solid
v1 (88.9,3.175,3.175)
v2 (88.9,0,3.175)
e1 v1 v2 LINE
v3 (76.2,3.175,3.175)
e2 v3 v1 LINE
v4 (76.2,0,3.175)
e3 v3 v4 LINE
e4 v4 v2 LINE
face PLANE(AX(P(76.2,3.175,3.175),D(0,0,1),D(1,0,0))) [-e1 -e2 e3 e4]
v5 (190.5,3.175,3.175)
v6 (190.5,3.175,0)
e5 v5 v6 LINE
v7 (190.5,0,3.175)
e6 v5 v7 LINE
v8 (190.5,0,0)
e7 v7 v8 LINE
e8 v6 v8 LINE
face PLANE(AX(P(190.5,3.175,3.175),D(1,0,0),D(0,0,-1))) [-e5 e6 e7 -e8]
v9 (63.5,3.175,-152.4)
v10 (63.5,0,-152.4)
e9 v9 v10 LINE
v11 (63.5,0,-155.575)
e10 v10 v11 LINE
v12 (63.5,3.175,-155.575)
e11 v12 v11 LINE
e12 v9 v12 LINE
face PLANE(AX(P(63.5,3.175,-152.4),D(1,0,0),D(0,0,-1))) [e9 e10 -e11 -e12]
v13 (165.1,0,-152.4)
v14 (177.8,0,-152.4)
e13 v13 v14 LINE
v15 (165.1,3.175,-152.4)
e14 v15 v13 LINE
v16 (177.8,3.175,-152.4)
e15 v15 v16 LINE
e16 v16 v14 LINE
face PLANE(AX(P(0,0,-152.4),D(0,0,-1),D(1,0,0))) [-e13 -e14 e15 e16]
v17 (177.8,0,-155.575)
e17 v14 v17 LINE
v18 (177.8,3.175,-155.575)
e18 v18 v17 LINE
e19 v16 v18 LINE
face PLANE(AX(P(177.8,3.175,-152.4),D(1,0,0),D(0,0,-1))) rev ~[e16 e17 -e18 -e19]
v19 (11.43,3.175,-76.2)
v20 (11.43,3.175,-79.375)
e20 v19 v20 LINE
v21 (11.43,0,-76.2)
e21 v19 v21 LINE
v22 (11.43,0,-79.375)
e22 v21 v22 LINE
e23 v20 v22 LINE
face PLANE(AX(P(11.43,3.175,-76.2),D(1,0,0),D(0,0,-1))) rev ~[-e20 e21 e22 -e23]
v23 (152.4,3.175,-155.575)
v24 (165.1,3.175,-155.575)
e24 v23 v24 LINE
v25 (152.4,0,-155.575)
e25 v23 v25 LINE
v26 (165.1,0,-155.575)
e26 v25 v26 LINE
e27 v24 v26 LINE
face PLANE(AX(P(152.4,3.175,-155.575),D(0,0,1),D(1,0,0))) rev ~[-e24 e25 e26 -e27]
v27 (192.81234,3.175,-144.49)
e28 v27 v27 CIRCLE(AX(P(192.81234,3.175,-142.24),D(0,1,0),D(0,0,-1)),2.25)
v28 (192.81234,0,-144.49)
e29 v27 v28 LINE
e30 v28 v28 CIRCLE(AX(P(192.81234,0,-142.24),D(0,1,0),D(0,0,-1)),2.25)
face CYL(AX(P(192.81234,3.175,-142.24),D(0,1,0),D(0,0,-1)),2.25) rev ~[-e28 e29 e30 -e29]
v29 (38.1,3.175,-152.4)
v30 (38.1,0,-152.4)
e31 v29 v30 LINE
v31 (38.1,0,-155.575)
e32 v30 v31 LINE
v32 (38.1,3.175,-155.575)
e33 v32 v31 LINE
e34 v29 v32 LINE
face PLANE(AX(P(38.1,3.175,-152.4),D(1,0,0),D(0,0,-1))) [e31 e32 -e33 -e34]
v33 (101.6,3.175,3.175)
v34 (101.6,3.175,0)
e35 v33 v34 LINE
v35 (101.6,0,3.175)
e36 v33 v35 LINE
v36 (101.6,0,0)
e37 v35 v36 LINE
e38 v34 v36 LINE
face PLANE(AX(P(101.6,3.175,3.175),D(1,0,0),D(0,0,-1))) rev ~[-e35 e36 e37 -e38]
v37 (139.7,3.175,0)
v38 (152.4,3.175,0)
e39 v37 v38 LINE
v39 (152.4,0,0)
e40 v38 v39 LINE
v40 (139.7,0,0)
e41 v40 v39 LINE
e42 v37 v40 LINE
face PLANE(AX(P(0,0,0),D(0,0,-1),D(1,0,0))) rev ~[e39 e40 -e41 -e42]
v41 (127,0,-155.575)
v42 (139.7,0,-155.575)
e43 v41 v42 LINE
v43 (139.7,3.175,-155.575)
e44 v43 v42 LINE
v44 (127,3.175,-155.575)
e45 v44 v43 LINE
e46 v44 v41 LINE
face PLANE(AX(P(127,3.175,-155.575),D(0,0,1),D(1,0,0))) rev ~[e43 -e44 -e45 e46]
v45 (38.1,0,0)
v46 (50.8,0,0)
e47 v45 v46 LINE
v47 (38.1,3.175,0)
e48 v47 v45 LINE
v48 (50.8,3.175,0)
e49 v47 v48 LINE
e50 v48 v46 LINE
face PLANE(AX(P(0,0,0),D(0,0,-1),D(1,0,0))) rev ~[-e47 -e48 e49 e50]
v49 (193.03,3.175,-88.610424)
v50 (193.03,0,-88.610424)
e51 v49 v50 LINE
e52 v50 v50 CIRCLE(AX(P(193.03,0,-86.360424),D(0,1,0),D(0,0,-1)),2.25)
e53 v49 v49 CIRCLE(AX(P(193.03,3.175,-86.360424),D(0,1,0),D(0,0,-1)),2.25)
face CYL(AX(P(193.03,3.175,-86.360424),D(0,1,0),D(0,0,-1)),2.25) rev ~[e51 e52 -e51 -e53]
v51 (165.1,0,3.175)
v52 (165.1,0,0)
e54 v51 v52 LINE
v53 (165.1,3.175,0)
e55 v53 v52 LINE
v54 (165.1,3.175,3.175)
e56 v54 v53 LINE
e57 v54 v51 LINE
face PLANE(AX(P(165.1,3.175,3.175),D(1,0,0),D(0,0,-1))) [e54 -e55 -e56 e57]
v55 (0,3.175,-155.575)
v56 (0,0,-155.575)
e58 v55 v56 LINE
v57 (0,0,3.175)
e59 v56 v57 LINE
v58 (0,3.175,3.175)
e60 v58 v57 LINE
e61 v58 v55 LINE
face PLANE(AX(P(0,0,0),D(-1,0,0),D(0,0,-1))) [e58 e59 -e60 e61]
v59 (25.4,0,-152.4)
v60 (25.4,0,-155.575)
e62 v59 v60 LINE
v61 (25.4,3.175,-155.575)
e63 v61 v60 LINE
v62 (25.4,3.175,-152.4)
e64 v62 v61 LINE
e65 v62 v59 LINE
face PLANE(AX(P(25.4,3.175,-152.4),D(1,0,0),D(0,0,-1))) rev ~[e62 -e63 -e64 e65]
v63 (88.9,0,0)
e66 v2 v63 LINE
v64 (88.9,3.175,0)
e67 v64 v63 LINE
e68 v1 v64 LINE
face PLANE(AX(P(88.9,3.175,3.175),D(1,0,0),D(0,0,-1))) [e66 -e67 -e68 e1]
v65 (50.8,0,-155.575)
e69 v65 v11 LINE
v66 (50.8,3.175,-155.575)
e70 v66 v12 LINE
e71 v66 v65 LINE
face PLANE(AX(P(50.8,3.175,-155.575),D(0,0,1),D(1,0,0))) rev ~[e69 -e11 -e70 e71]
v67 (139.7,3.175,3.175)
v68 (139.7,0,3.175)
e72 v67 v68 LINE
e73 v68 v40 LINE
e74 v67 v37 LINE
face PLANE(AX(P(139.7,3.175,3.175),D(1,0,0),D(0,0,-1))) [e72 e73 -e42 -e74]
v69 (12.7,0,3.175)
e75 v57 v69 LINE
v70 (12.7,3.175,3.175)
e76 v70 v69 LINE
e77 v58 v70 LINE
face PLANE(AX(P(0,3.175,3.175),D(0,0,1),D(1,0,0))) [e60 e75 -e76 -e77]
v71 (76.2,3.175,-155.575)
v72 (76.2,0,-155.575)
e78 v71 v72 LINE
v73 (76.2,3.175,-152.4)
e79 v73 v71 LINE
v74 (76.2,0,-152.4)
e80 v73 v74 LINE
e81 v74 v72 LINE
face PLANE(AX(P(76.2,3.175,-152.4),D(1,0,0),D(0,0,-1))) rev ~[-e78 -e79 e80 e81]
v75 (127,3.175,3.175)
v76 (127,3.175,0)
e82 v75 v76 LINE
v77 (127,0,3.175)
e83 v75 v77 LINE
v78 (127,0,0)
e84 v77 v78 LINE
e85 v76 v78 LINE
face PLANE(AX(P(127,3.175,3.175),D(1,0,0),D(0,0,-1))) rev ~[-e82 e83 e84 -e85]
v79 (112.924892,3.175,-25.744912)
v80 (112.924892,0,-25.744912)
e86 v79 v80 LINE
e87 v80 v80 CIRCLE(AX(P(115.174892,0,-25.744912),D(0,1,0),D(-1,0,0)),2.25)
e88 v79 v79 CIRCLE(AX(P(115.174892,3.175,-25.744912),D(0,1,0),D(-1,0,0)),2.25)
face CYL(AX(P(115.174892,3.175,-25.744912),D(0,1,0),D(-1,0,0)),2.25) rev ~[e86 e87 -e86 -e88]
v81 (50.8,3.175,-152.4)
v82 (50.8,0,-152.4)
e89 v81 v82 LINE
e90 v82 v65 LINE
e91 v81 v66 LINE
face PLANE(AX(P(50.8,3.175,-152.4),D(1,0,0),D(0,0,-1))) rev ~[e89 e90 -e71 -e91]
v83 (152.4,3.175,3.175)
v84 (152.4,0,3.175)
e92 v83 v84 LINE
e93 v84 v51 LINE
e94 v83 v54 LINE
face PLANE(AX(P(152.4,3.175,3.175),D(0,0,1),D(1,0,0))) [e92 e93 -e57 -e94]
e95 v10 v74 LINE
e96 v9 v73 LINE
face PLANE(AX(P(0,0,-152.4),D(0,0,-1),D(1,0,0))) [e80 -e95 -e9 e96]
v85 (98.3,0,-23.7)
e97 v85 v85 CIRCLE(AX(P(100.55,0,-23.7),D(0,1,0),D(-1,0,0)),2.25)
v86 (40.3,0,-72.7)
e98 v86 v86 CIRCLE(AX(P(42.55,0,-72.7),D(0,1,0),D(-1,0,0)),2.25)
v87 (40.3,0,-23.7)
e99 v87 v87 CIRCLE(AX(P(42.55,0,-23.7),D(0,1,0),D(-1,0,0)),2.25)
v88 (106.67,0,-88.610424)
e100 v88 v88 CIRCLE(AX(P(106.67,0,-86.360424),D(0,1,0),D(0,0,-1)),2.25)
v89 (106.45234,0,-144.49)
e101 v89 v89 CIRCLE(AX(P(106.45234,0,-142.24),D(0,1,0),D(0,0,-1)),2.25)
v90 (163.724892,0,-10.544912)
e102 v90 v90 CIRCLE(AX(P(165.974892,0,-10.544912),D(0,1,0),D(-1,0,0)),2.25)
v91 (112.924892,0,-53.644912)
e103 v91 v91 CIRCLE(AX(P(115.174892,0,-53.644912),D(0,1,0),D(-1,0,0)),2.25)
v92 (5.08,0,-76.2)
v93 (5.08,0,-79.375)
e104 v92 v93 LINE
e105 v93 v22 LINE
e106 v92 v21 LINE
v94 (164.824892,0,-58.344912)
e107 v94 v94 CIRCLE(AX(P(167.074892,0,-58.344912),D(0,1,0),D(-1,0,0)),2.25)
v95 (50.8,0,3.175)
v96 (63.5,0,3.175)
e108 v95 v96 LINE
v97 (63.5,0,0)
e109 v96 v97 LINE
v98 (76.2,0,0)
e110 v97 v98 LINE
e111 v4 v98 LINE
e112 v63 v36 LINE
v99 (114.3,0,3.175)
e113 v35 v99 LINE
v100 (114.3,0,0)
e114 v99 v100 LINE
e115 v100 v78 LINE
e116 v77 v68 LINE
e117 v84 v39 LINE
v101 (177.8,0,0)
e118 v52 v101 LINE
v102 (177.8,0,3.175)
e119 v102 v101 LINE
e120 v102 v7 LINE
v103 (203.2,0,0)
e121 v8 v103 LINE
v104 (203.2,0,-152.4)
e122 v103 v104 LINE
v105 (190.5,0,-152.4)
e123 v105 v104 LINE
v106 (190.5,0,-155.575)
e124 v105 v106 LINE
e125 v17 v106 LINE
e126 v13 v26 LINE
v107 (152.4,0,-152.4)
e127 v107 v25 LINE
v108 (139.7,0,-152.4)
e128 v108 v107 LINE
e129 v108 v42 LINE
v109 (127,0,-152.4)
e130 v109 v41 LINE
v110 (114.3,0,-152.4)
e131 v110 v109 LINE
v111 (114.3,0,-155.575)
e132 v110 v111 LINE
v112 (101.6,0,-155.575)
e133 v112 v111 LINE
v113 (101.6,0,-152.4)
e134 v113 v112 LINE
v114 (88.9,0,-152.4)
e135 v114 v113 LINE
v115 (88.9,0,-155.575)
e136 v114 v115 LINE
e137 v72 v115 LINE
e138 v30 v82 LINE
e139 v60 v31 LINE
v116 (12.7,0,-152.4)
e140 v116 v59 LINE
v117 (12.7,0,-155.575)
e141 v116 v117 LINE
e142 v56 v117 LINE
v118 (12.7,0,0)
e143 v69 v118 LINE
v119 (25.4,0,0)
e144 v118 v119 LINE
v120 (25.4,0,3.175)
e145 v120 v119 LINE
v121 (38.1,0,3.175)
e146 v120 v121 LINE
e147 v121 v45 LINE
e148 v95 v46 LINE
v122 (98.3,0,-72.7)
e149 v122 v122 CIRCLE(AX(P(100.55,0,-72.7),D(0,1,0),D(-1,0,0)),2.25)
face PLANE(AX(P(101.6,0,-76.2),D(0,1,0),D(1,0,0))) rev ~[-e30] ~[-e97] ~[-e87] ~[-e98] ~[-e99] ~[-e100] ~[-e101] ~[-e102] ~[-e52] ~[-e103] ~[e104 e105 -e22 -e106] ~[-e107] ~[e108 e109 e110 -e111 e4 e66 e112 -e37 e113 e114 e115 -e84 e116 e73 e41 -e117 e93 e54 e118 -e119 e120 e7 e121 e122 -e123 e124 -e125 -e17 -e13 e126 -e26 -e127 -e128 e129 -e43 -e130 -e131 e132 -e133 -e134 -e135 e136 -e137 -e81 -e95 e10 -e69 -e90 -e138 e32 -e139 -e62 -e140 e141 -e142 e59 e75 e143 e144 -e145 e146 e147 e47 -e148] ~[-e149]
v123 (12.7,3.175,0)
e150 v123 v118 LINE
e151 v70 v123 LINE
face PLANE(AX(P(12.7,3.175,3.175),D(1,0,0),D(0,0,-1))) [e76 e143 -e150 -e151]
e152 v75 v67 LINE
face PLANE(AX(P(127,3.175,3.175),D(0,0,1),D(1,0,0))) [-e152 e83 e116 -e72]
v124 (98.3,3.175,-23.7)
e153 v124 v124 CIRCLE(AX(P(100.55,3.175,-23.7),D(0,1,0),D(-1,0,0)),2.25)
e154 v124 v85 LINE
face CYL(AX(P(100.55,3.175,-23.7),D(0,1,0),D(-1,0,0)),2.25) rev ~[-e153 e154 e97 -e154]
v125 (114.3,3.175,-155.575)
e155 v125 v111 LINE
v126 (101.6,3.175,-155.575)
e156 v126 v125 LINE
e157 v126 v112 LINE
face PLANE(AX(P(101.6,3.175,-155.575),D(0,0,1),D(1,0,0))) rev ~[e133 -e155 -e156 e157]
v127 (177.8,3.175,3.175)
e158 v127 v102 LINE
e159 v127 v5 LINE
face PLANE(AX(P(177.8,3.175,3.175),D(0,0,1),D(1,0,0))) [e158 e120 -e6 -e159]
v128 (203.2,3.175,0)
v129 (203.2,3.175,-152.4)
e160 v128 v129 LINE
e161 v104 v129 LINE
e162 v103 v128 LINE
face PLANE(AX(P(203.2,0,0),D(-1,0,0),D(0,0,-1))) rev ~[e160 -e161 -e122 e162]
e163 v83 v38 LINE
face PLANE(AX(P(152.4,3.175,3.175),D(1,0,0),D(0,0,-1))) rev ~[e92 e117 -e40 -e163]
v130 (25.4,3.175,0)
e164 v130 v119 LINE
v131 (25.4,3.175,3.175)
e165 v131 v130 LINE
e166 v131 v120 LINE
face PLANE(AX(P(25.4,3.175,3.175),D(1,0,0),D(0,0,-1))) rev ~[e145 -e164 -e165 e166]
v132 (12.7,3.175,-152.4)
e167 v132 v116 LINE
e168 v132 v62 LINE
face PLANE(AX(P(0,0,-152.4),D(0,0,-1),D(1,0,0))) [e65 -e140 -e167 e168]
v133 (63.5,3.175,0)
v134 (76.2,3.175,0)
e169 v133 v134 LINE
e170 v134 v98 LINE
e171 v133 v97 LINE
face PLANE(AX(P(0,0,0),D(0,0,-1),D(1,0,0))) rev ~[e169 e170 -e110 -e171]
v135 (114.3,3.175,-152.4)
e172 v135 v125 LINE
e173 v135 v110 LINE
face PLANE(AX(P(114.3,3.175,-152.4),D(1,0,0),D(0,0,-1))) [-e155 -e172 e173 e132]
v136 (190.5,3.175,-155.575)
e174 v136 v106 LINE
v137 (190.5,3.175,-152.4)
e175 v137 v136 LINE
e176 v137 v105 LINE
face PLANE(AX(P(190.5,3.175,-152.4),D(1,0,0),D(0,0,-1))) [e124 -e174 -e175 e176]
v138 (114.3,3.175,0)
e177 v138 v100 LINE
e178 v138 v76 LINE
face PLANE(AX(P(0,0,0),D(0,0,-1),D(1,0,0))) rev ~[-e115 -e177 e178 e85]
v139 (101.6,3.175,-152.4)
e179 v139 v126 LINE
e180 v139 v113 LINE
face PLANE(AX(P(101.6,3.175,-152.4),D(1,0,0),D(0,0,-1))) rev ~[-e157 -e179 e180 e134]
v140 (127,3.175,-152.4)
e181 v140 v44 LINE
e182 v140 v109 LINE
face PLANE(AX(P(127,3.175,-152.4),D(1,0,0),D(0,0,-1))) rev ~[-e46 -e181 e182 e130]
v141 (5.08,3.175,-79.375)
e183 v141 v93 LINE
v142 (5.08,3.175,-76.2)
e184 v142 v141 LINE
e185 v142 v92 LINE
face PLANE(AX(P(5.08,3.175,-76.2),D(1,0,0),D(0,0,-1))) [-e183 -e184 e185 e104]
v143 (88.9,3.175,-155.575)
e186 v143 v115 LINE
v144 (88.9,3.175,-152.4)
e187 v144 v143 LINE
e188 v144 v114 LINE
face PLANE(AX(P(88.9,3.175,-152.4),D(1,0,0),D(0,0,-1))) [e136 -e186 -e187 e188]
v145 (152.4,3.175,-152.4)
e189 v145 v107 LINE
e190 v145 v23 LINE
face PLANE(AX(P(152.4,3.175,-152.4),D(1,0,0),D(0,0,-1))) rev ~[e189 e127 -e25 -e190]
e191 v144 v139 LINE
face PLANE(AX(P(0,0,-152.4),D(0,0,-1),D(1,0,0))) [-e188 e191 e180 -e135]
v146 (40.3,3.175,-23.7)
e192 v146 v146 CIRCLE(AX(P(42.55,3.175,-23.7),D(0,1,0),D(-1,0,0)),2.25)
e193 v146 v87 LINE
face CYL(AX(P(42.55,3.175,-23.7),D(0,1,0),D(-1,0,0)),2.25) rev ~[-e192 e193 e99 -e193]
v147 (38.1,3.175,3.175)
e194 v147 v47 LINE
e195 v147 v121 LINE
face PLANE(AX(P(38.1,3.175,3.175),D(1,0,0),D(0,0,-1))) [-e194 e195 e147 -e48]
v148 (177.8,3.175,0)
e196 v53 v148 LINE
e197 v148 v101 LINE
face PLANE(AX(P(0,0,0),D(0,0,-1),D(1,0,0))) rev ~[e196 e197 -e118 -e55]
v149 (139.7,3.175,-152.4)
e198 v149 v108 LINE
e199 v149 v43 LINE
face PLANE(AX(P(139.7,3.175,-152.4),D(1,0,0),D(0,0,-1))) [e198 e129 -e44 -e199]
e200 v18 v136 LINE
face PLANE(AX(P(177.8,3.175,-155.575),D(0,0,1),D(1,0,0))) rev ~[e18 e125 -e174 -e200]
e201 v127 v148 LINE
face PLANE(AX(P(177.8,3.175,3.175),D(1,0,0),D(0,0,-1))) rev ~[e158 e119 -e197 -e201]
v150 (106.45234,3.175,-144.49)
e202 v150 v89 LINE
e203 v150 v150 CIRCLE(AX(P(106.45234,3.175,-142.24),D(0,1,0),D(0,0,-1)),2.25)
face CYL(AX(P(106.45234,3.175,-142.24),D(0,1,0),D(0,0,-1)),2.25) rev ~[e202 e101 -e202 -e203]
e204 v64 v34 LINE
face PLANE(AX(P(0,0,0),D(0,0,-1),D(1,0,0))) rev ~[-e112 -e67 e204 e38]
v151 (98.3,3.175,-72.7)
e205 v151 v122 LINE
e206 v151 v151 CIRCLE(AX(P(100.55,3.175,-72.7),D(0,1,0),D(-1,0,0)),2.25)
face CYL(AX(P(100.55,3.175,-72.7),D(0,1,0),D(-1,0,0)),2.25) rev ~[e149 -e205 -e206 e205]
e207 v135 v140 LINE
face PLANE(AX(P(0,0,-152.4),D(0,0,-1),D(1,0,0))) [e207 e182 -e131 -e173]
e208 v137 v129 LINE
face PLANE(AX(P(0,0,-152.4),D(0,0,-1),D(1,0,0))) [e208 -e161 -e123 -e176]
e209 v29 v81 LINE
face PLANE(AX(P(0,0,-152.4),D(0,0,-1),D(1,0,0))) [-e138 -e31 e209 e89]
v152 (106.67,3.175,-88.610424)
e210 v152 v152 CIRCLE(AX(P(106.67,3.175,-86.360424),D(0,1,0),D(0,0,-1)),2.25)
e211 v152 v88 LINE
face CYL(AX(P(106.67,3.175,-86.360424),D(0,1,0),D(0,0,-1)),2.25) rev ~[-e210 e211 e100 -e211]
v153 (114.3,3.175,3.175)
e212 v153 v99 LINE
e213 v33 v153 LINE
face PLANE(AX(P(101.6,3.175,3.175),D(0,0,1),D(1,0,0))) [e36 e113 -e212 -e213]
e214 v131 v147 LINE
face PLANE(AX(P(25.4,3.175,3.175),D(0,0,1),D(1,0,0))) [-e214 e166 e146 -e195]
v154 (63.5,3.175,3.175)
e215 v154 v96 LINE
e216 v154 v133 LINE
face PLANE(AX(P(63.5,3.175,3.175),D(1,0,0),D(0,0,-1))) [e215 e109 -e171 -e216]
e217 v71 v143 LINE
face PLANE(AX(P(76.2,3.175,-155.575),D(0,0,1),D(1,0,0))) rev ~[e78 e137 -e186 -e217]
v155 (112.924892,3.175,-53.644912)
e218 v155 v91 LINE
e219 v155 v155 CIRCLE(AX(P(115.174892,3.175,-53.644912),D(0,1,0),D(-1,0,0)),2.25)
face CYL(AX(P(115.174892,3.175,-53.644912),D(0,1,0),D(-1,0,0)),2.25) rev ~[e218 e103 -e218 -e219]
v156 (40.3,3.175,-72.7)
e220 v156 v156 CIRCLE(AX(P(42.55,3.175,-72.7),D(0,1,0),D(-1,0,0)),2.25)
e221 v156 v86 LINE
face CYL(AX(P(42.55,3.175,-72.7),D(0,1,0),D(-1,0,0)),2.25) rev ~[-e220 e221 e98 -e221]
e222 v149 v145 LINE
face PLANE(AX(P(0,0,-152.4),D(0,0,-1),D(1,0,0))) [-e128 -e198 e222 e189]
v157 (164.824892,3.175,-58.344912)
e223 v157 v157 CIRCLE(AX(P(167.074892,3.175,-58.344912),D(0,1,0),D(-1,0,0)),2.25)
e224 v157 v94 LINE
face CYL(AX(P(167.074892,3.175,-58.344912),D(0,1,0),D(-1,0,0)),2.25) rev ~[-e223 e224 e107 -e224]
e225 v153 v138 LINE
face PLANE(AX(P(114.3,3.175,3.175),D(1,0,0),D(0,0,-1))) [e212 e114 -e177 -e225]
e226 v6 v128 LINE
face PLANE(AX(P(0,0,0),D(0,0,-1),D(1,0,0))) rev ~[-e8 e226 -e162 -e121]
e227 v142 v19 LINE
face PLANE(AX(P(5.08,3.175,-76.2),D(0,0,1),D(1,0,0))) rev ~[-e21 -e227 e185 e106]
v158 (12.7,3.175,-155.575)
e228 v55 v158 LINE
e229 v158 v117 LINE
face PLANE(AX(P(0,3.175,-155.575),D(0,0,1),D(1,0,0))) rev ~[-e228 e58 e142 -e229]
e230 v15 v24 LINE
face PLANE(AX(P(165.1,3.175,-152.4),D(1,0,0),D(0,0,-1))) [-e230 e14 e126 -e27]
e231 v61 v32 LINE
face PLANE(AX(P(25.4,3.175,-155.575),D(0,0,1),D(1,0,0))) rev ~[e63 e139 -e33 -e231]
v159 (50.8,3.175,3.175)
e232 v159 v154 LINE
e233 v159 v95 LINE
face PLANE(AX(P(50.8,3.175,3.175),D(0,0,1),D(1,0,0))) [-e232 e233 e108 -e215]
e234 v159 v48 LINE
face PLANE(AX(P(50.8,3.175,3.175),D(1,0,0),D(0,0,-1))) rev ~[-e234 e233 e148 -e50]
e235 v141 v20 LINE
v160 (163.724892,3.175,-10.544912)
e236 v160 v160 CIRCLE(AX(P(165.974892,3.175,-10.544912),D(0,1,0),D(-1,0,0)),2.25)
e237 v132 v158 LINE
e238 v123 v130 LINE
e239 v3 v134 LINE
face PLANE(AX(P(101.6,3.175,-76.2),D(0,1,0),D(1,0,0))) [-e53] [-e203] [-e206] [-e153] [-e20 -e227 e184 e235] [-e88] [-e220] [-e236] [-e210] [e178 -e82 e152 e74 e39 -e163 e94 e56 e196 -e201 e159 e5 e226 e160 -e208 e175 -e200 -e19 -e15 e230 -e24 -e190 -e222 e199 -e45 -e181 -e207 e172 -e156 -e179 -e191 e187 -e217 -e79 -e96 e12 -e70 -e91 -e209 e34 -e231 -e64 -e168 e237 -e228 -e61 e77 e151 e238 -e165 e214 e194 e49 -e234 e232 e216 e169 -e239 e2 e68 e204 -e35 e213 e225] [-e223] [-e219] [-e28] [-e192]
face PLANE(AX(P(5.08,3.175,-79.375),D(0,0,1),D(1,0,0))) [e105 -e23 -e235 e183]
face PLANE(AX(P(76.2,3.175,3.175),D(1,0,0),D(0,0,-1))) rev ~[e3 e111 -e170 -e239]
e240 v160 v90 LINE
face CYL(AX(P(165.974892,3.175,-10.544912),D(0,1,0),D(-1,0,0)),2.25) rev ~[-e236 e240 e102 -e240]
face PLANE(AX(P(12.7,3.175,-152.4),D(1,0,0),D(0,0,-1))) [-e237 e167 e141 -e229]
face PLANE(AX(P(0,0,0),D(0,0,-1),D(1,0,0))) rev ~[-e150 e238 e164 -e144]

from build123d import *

# Parameters (mm, degrees)
SKETCH1_W               = 203.2
SKETCH1_H               = 152.4
BOSS_EXTRUDE1_DEPTH     = 3.175
SKETCH2_W               = 12.7
SKETCH2_H               = 3.175
BOSS_EXTRUDE2_DEPTH     = 3.175
BOSS_EXTRUDE2_2_DEPTH   = 3.175
BOSS_EXTRUDE2_3_DEPTH   = 3.175
BOSS_EXTRUDE2_4_DEPTH   = 3.175
BOSS_EXTRUDE2_5_DEPTH   = 3.175
BOSS_EXTRUDE2_6_DEPTH   = 3.175
BOSS_EXTRUDE2_7_DEPTH   = 3.175
BOSS_EXTRUDE2_8_DEPTH   = 3.175
BOSS_EXTRUDE2_9_DEPTH   = 3.175
BOSS_EXTRUDE2_10_DEPTH  = 3.175
BOSS_EXTRUDE2_11_DEPTH  = 3.175
BOSS_EXTRUDE2_12_DEPTH  = 3.175
BOSS_EXTRUDE2_13_DEPTH  = 3.175
BOSS_EXTRUDE2_14_DEPTH  = 3.175
BOSS_EXTRUDE2_15_DEPTH  = 3.175
BOSS_EXTRUDE2_16_DEPTH  = 3.175
SKETCH4_R               = 2.249999945
CUT_EXTRUDE1_DEPTH      = 4.175
SKETCH5_R               = 2.249999945
CUT_EXTRUDE2_DEPTH      = 4.175
SKETCH10_R              = 2.249999945
CUT_EXTRUDE3_DEPTH      = 1
CUT_EXTRUDE3_DEPTH_BACK = 4.175
SKETCH11_W              = 6.35
SKETCH11_H              = 3.175
CUT_EXTRUDE4_DEPTH      = 4.175


with BuildPart() as part:
    # Sketch1 → Boss-Extrude1 (new body)
    with BuildSketch(Plane(origin=(0, 0, 0), x_dir=(1, 0, 0), z_dir=(0, 1, 0))):
        with Locations((101.6, 76.2)):
            Rectangle(SKETCH1_W, SKETCH1_H)
    extrude(amount=BOSS_EXTRUDE1_DEPTH)

    # Sketch4 → Cut-Extrude1 (cut, through all)
    with BuildSketch(Plane(origin=(163.318517222, 3.175, 18.128898402), x_dir=(-1, 0, 0), z_dir=(0, 1, 0))):
        with Locations((62.768517222, -41.828898402)):
            Circle(SKETCH4_R)
        with Locations((62.768517222, -90.828898402)):
            Circle(SKETCH4_R)
        with Locations((120.768517222, -90.828898402)):
            Circle(SKETCH4_R)
        with Locations((120.768517222, -41.828898402)):
            Circle(SKETCH4_R)
    extrude(amount=-CUT_EXTRUDE1_DEPTH, mode=Mode.SUBTRACT)

    # Sketch5 → Cut-Extrude2 (cut, through all)
    with BuildSketch(Plane(origin=(307.482010873, 3.175, -268.648993813), x_dir=(-1, 0, 0), z_dir=(0, 1, 0))):
        with Locations((140.407118473, 210.304081528)):
            Circle(SKETCH5_R)
        with Locations((141.507118473, 258.104081528)):
            Circle(SKETCH5_R)
        with Locations((192.307118473, 215.004081528)):
            Circle(SKETCH5_R)
        with Locations((192.307118473, 242.904081528)):
            Circle(SKETCH5_R)
    extrude(amount=-CUT_EXTRUDE2_DEPTH, mode=Mode.SUBTRACT)

    # Sketch10 → Cut-Extrude3 (cut, two sides)
    with BuildSketch(Plane(origin=(154.738240667, 3.175, -89.784200023), x_dir=(0, 0, -1), z_dir=(0, 1, 0))) as cut_extrude3_sk:
        with Locations((-3.423776116, 48.068240667)):
            Circle(SKETCH10_R)
        with Locations((52.455799977, 48.285900219)):
            Circle(SKETCH10_R)
        with Locations((-3.423776116, -38.291759333)):
            Circle(SKETCH10_R)
        with Locations((52.455799977, -38.074099781)):
            Circle(SKETCH10_R)
    extrude(amount=CUT_EXTRUDE3_DEPTH, mode=Mode.SUBTRACT)
    extrude(cut_extrude3_sk.sketch, amount=-CUT_EXTRUDE3_DEPTH_BACK, mode=Mode.SUBTRACT)


with BuildPart() as body_2:
    # Sketch2 → Boss-Extrude2 (new body)
    with BuildSketch(Plane(origin=(0, 3.175, 0), x_dir=(1, 0, 0), z_dir=(0, 1, 0))):
        with Locations((31.75, -1.5875)):
            Rectangle(SKETCH2_W, SKETCH2_H)
    extrude(amount=-BOSS_EXTRUDE2_DEPTH)


with BuildPart() as body_3:
    # Sketch2 → Boss-Extrude2 2 (new body)
    with BuildSketch(Plane(origin=(0, 3.175, 0), x_dir=(1, 0, 0), z_dir=(0, 1, 0))):
        with Locations((6.35, -1.5875)):
            Rectangle(SKETCH2_W, SKETCH2_H)
    extrude(amount=-BOSS_EXTRUDE2_2_DEPTH)


with BuildPart() as body_4:
    # Sketch2 → Boss-Extrude2 3 (new body)
    with BuildSketch(Plane(origin=(0, 3.175, 0), x_dir=(1, 0, 0), z_dir=(0, 1, 0))):
        with Locations((57.15, -1.5875)):
            Rectangle(SKETCH2_W, SKETCH2_H)
    extrude(amount=-BOSS_EXTRUDE2_3_DEPTH)


with BuildPart() as body_5:
    # Sketch2 → Boss-Extrude2 4 (new body)
    with BuildSketch(Plane(origin=(0, 3.175, 0), x_dir=(1, 0, 0), z_dir=(0, 1, 0))):
        with Locations((82.55, -1.5875)):
            Rectangle(SKETCH2_W, SKETCH2_H)
    extrude(amount=-BOSS_EXTRUDE2_4_DEPTH)


with BuildPart() as body_6:
    # Sketch2 → Boss-Extrude2 5 (new body)
    with BuildSketch(Plane(origin=(0, 3.175, 0), x_dir=(1, 0, 0), z_dir=(0, 1, 0))):
        with Locations((107.95, -1.5875)):
            Rectangle(SKETCH2_W, SKETCH2_H)
    extrude(amount=-BOSS_EXTRUDE2_5_DEPTH)


with BuildPart() as body_7:
    # Sketch2 → Boss-Extrude2 6 (new body)
    with BuildSketch(Plane(origin=(0, 3.175, 0), x_dir=(1, 0, 0), z_dir=(0, 1, 0))):
        with Locations((133.35, -1.5875)):
            Rectangle(SKETCH2_W, SKETCH2_H)
    extrude(amount=-BOSS_EXTRUDE2_6_DEPTH)


with BuildPart() as body_8:
    # Sketch2 → Boss-Extrude2 7 (new body)
    with BuildSketch(Plane(origin=(0, 3.175, 0), x_dir=(1, 0, 0), z_dir=(0, 1, 0))):
        with Locations((158.75, -1.5875)):
            Rectangle(SKETCH2_W, SKETCH2_H)
    extrude(amount=-BOSS_EXTRUDE2_7_DEPTH)


with BuildPart() as body_9:
    # Sketch2 → Boss-Extrude2 8 (new body)
    with BuildSketch(Plane(origin=(0, 3.175, 0), x_dir=(1, 0, 0), z_dir=(0, 1, 0))):
        with Locations((184.15, -1.5875)):
            Rectangle(SKETCH2_W, SKETCH2_H)
    extrude(amount=-BOSS_EXTRUDE2_8_DEPTH)


with BuildPart() as body_10:
    # Sketch2 → Boss-Extrude2 9 (new body)
    with BuildSketch(Plane(origin=(0, 3.175, 0), x_dir=(1, 0, 0), z_dir=(0, 1, 0))):
        with Locations((184.15, 153.9875)):
            Rectangle(SKETCH2_W, SKETCH2_H)
    extrude(amount=-BOSS_EXTRUDE2_9_DEPTH)


with BuildPart() as body_11:
    # Sketch2 → Boss-Extrude2 10 (new body)
    with BuildSketch(Plane(origin=(0, 3.175, 0), x_dir=(1, 0, 0), z_dir=(0, 1, 0))):
        with Locations((158.75, 153.9875)):
            Rectangle(SKETCH2_W, SKETCH2_H)
    extrude(amount=-BOSS_EXTRUDE2_10_DEPTH)


with BuildPart() as body_12:
    # Sketch2 → Boss-Extrude2 11 (new body)
    with BuildSketch(Plane(origin=(0, 3.175, 0), x_dir=(1, 0, 0), z_dir=(0, 1, 0))):
        with Locations((133.35, 153.9875)):
            Rectangle(SKETCH2_W, SKETCH2_H)
    extrude(amount=-BOSS_EXTRUDE2_11_DEPTH)


with BuildPart() as body_13:
    # Sketch2 → Boss-Extrude2 12 (new body)
    with BuildSketch(Plane(origin=(0, 3.175, 0), x_dir=(1, 0, 0), z_dir=(0, 1, 0))):
        with Locations((107.95, 153.9875)):
            Rectangle(SKETCH2_W, SKETCH2_H)
    extrude(amount=-BOSS_EXTRUDE2_12_DEPTH)


with BuildPart() as body_14:
    # Sketch2 → Boss-Extrude2 13 (new body)
    with BuildSketch(Plane(origin=(0, 3.175, 0), x_dir=(1, 0, 0), z_dir=(0, 1, 0))):
        with Locations((82.55, 153.9875)):
            Rectangle(SKETCH2_W, SKETCH2_H)
    extrude(amount=-BOSS_EXTRUDE2_13_DEPTH)


with BuildPart() as body_15:
    # Sketch2 → Boss-Extrude2 14 (new body)
    with BuildSketch(Plane(origin=(0, 3.175, 0), x_dir=(1, 0, 0), z_dir=(0, 1, 0))):
        with Locations((57.15, 153.9875)):
            Rectangle(SKETCH2_W, SKETCH2_H)
    extrude(amount=-BOSS_EXTRUDE2_14_DEPTH)


with BuildPart() as body_16:
    # Sketch2 → Boss-Extrude2 15 (new body)
    with BuildSketch(Plane(origin=(0, 3.175, 0), x_dir=(1, 0, 0), z_dir=(0, 1, 0))):
        with Locations((31.75, 153.9875)):
            Rectangle(SKETCH2_W, SKETCH2_H)
    extrude(amount=-BOSS_EXTRUDE2_15_DEPTH)


with BuildPart() as body_17:
    # Sketch2 → Boss-Extrude2 16 (new body)
    with BuildSketch(Plane(origin=(0, 3.175, 0), x_dir=(1, 0, 0), z_dir=(0, 1, 0))):
        with Locations((6.35, 153.9875)):
            Rectangle(SKETCH2_W, SKETCH2_H)
    extrude(amount=-BOSS_EXTRUDE2_16_DEPTH)


with BuildPart() as body_3_1:
    add(body_3.part)

    # Combine1: union body 4, body 6, body 8, body 10, body 12, body 14, body 16, body 17, part, body 2, body 5, body 7, body 9, body 11, body 13, body 15
    add(body_4.part)
    add(body_6.part)
    add(body_8.part)
    add(body_10.part)
    add(body_12.part)
    add(body_14.part)
    add(body_16.part)
    add(body_17.part)
    add(part.part)
    add(body_2.part)
    add(body_5.part)
    add(body_7.part)
    add(body_9.part)
    add(body_11.part)
    add(body_13.part)
    add(body_15.part)

    # Sketch11 → Cut-Extrude4 (cut, through all)
    with BuildSketch(Plane(origin=(0, 3.175, 0), x_dir=(1, 0, 0), z_dir=(0, 1, 0))):
        with Locations((8.255, 77.7875)):
            Rectangle(SKETCH11_W, SKETCH11_H)
    extrude(amount=-CUT_EXTRUDE4_DEPTH, mode=Mode.SUBTRACT)


solid = body_3_1.part
